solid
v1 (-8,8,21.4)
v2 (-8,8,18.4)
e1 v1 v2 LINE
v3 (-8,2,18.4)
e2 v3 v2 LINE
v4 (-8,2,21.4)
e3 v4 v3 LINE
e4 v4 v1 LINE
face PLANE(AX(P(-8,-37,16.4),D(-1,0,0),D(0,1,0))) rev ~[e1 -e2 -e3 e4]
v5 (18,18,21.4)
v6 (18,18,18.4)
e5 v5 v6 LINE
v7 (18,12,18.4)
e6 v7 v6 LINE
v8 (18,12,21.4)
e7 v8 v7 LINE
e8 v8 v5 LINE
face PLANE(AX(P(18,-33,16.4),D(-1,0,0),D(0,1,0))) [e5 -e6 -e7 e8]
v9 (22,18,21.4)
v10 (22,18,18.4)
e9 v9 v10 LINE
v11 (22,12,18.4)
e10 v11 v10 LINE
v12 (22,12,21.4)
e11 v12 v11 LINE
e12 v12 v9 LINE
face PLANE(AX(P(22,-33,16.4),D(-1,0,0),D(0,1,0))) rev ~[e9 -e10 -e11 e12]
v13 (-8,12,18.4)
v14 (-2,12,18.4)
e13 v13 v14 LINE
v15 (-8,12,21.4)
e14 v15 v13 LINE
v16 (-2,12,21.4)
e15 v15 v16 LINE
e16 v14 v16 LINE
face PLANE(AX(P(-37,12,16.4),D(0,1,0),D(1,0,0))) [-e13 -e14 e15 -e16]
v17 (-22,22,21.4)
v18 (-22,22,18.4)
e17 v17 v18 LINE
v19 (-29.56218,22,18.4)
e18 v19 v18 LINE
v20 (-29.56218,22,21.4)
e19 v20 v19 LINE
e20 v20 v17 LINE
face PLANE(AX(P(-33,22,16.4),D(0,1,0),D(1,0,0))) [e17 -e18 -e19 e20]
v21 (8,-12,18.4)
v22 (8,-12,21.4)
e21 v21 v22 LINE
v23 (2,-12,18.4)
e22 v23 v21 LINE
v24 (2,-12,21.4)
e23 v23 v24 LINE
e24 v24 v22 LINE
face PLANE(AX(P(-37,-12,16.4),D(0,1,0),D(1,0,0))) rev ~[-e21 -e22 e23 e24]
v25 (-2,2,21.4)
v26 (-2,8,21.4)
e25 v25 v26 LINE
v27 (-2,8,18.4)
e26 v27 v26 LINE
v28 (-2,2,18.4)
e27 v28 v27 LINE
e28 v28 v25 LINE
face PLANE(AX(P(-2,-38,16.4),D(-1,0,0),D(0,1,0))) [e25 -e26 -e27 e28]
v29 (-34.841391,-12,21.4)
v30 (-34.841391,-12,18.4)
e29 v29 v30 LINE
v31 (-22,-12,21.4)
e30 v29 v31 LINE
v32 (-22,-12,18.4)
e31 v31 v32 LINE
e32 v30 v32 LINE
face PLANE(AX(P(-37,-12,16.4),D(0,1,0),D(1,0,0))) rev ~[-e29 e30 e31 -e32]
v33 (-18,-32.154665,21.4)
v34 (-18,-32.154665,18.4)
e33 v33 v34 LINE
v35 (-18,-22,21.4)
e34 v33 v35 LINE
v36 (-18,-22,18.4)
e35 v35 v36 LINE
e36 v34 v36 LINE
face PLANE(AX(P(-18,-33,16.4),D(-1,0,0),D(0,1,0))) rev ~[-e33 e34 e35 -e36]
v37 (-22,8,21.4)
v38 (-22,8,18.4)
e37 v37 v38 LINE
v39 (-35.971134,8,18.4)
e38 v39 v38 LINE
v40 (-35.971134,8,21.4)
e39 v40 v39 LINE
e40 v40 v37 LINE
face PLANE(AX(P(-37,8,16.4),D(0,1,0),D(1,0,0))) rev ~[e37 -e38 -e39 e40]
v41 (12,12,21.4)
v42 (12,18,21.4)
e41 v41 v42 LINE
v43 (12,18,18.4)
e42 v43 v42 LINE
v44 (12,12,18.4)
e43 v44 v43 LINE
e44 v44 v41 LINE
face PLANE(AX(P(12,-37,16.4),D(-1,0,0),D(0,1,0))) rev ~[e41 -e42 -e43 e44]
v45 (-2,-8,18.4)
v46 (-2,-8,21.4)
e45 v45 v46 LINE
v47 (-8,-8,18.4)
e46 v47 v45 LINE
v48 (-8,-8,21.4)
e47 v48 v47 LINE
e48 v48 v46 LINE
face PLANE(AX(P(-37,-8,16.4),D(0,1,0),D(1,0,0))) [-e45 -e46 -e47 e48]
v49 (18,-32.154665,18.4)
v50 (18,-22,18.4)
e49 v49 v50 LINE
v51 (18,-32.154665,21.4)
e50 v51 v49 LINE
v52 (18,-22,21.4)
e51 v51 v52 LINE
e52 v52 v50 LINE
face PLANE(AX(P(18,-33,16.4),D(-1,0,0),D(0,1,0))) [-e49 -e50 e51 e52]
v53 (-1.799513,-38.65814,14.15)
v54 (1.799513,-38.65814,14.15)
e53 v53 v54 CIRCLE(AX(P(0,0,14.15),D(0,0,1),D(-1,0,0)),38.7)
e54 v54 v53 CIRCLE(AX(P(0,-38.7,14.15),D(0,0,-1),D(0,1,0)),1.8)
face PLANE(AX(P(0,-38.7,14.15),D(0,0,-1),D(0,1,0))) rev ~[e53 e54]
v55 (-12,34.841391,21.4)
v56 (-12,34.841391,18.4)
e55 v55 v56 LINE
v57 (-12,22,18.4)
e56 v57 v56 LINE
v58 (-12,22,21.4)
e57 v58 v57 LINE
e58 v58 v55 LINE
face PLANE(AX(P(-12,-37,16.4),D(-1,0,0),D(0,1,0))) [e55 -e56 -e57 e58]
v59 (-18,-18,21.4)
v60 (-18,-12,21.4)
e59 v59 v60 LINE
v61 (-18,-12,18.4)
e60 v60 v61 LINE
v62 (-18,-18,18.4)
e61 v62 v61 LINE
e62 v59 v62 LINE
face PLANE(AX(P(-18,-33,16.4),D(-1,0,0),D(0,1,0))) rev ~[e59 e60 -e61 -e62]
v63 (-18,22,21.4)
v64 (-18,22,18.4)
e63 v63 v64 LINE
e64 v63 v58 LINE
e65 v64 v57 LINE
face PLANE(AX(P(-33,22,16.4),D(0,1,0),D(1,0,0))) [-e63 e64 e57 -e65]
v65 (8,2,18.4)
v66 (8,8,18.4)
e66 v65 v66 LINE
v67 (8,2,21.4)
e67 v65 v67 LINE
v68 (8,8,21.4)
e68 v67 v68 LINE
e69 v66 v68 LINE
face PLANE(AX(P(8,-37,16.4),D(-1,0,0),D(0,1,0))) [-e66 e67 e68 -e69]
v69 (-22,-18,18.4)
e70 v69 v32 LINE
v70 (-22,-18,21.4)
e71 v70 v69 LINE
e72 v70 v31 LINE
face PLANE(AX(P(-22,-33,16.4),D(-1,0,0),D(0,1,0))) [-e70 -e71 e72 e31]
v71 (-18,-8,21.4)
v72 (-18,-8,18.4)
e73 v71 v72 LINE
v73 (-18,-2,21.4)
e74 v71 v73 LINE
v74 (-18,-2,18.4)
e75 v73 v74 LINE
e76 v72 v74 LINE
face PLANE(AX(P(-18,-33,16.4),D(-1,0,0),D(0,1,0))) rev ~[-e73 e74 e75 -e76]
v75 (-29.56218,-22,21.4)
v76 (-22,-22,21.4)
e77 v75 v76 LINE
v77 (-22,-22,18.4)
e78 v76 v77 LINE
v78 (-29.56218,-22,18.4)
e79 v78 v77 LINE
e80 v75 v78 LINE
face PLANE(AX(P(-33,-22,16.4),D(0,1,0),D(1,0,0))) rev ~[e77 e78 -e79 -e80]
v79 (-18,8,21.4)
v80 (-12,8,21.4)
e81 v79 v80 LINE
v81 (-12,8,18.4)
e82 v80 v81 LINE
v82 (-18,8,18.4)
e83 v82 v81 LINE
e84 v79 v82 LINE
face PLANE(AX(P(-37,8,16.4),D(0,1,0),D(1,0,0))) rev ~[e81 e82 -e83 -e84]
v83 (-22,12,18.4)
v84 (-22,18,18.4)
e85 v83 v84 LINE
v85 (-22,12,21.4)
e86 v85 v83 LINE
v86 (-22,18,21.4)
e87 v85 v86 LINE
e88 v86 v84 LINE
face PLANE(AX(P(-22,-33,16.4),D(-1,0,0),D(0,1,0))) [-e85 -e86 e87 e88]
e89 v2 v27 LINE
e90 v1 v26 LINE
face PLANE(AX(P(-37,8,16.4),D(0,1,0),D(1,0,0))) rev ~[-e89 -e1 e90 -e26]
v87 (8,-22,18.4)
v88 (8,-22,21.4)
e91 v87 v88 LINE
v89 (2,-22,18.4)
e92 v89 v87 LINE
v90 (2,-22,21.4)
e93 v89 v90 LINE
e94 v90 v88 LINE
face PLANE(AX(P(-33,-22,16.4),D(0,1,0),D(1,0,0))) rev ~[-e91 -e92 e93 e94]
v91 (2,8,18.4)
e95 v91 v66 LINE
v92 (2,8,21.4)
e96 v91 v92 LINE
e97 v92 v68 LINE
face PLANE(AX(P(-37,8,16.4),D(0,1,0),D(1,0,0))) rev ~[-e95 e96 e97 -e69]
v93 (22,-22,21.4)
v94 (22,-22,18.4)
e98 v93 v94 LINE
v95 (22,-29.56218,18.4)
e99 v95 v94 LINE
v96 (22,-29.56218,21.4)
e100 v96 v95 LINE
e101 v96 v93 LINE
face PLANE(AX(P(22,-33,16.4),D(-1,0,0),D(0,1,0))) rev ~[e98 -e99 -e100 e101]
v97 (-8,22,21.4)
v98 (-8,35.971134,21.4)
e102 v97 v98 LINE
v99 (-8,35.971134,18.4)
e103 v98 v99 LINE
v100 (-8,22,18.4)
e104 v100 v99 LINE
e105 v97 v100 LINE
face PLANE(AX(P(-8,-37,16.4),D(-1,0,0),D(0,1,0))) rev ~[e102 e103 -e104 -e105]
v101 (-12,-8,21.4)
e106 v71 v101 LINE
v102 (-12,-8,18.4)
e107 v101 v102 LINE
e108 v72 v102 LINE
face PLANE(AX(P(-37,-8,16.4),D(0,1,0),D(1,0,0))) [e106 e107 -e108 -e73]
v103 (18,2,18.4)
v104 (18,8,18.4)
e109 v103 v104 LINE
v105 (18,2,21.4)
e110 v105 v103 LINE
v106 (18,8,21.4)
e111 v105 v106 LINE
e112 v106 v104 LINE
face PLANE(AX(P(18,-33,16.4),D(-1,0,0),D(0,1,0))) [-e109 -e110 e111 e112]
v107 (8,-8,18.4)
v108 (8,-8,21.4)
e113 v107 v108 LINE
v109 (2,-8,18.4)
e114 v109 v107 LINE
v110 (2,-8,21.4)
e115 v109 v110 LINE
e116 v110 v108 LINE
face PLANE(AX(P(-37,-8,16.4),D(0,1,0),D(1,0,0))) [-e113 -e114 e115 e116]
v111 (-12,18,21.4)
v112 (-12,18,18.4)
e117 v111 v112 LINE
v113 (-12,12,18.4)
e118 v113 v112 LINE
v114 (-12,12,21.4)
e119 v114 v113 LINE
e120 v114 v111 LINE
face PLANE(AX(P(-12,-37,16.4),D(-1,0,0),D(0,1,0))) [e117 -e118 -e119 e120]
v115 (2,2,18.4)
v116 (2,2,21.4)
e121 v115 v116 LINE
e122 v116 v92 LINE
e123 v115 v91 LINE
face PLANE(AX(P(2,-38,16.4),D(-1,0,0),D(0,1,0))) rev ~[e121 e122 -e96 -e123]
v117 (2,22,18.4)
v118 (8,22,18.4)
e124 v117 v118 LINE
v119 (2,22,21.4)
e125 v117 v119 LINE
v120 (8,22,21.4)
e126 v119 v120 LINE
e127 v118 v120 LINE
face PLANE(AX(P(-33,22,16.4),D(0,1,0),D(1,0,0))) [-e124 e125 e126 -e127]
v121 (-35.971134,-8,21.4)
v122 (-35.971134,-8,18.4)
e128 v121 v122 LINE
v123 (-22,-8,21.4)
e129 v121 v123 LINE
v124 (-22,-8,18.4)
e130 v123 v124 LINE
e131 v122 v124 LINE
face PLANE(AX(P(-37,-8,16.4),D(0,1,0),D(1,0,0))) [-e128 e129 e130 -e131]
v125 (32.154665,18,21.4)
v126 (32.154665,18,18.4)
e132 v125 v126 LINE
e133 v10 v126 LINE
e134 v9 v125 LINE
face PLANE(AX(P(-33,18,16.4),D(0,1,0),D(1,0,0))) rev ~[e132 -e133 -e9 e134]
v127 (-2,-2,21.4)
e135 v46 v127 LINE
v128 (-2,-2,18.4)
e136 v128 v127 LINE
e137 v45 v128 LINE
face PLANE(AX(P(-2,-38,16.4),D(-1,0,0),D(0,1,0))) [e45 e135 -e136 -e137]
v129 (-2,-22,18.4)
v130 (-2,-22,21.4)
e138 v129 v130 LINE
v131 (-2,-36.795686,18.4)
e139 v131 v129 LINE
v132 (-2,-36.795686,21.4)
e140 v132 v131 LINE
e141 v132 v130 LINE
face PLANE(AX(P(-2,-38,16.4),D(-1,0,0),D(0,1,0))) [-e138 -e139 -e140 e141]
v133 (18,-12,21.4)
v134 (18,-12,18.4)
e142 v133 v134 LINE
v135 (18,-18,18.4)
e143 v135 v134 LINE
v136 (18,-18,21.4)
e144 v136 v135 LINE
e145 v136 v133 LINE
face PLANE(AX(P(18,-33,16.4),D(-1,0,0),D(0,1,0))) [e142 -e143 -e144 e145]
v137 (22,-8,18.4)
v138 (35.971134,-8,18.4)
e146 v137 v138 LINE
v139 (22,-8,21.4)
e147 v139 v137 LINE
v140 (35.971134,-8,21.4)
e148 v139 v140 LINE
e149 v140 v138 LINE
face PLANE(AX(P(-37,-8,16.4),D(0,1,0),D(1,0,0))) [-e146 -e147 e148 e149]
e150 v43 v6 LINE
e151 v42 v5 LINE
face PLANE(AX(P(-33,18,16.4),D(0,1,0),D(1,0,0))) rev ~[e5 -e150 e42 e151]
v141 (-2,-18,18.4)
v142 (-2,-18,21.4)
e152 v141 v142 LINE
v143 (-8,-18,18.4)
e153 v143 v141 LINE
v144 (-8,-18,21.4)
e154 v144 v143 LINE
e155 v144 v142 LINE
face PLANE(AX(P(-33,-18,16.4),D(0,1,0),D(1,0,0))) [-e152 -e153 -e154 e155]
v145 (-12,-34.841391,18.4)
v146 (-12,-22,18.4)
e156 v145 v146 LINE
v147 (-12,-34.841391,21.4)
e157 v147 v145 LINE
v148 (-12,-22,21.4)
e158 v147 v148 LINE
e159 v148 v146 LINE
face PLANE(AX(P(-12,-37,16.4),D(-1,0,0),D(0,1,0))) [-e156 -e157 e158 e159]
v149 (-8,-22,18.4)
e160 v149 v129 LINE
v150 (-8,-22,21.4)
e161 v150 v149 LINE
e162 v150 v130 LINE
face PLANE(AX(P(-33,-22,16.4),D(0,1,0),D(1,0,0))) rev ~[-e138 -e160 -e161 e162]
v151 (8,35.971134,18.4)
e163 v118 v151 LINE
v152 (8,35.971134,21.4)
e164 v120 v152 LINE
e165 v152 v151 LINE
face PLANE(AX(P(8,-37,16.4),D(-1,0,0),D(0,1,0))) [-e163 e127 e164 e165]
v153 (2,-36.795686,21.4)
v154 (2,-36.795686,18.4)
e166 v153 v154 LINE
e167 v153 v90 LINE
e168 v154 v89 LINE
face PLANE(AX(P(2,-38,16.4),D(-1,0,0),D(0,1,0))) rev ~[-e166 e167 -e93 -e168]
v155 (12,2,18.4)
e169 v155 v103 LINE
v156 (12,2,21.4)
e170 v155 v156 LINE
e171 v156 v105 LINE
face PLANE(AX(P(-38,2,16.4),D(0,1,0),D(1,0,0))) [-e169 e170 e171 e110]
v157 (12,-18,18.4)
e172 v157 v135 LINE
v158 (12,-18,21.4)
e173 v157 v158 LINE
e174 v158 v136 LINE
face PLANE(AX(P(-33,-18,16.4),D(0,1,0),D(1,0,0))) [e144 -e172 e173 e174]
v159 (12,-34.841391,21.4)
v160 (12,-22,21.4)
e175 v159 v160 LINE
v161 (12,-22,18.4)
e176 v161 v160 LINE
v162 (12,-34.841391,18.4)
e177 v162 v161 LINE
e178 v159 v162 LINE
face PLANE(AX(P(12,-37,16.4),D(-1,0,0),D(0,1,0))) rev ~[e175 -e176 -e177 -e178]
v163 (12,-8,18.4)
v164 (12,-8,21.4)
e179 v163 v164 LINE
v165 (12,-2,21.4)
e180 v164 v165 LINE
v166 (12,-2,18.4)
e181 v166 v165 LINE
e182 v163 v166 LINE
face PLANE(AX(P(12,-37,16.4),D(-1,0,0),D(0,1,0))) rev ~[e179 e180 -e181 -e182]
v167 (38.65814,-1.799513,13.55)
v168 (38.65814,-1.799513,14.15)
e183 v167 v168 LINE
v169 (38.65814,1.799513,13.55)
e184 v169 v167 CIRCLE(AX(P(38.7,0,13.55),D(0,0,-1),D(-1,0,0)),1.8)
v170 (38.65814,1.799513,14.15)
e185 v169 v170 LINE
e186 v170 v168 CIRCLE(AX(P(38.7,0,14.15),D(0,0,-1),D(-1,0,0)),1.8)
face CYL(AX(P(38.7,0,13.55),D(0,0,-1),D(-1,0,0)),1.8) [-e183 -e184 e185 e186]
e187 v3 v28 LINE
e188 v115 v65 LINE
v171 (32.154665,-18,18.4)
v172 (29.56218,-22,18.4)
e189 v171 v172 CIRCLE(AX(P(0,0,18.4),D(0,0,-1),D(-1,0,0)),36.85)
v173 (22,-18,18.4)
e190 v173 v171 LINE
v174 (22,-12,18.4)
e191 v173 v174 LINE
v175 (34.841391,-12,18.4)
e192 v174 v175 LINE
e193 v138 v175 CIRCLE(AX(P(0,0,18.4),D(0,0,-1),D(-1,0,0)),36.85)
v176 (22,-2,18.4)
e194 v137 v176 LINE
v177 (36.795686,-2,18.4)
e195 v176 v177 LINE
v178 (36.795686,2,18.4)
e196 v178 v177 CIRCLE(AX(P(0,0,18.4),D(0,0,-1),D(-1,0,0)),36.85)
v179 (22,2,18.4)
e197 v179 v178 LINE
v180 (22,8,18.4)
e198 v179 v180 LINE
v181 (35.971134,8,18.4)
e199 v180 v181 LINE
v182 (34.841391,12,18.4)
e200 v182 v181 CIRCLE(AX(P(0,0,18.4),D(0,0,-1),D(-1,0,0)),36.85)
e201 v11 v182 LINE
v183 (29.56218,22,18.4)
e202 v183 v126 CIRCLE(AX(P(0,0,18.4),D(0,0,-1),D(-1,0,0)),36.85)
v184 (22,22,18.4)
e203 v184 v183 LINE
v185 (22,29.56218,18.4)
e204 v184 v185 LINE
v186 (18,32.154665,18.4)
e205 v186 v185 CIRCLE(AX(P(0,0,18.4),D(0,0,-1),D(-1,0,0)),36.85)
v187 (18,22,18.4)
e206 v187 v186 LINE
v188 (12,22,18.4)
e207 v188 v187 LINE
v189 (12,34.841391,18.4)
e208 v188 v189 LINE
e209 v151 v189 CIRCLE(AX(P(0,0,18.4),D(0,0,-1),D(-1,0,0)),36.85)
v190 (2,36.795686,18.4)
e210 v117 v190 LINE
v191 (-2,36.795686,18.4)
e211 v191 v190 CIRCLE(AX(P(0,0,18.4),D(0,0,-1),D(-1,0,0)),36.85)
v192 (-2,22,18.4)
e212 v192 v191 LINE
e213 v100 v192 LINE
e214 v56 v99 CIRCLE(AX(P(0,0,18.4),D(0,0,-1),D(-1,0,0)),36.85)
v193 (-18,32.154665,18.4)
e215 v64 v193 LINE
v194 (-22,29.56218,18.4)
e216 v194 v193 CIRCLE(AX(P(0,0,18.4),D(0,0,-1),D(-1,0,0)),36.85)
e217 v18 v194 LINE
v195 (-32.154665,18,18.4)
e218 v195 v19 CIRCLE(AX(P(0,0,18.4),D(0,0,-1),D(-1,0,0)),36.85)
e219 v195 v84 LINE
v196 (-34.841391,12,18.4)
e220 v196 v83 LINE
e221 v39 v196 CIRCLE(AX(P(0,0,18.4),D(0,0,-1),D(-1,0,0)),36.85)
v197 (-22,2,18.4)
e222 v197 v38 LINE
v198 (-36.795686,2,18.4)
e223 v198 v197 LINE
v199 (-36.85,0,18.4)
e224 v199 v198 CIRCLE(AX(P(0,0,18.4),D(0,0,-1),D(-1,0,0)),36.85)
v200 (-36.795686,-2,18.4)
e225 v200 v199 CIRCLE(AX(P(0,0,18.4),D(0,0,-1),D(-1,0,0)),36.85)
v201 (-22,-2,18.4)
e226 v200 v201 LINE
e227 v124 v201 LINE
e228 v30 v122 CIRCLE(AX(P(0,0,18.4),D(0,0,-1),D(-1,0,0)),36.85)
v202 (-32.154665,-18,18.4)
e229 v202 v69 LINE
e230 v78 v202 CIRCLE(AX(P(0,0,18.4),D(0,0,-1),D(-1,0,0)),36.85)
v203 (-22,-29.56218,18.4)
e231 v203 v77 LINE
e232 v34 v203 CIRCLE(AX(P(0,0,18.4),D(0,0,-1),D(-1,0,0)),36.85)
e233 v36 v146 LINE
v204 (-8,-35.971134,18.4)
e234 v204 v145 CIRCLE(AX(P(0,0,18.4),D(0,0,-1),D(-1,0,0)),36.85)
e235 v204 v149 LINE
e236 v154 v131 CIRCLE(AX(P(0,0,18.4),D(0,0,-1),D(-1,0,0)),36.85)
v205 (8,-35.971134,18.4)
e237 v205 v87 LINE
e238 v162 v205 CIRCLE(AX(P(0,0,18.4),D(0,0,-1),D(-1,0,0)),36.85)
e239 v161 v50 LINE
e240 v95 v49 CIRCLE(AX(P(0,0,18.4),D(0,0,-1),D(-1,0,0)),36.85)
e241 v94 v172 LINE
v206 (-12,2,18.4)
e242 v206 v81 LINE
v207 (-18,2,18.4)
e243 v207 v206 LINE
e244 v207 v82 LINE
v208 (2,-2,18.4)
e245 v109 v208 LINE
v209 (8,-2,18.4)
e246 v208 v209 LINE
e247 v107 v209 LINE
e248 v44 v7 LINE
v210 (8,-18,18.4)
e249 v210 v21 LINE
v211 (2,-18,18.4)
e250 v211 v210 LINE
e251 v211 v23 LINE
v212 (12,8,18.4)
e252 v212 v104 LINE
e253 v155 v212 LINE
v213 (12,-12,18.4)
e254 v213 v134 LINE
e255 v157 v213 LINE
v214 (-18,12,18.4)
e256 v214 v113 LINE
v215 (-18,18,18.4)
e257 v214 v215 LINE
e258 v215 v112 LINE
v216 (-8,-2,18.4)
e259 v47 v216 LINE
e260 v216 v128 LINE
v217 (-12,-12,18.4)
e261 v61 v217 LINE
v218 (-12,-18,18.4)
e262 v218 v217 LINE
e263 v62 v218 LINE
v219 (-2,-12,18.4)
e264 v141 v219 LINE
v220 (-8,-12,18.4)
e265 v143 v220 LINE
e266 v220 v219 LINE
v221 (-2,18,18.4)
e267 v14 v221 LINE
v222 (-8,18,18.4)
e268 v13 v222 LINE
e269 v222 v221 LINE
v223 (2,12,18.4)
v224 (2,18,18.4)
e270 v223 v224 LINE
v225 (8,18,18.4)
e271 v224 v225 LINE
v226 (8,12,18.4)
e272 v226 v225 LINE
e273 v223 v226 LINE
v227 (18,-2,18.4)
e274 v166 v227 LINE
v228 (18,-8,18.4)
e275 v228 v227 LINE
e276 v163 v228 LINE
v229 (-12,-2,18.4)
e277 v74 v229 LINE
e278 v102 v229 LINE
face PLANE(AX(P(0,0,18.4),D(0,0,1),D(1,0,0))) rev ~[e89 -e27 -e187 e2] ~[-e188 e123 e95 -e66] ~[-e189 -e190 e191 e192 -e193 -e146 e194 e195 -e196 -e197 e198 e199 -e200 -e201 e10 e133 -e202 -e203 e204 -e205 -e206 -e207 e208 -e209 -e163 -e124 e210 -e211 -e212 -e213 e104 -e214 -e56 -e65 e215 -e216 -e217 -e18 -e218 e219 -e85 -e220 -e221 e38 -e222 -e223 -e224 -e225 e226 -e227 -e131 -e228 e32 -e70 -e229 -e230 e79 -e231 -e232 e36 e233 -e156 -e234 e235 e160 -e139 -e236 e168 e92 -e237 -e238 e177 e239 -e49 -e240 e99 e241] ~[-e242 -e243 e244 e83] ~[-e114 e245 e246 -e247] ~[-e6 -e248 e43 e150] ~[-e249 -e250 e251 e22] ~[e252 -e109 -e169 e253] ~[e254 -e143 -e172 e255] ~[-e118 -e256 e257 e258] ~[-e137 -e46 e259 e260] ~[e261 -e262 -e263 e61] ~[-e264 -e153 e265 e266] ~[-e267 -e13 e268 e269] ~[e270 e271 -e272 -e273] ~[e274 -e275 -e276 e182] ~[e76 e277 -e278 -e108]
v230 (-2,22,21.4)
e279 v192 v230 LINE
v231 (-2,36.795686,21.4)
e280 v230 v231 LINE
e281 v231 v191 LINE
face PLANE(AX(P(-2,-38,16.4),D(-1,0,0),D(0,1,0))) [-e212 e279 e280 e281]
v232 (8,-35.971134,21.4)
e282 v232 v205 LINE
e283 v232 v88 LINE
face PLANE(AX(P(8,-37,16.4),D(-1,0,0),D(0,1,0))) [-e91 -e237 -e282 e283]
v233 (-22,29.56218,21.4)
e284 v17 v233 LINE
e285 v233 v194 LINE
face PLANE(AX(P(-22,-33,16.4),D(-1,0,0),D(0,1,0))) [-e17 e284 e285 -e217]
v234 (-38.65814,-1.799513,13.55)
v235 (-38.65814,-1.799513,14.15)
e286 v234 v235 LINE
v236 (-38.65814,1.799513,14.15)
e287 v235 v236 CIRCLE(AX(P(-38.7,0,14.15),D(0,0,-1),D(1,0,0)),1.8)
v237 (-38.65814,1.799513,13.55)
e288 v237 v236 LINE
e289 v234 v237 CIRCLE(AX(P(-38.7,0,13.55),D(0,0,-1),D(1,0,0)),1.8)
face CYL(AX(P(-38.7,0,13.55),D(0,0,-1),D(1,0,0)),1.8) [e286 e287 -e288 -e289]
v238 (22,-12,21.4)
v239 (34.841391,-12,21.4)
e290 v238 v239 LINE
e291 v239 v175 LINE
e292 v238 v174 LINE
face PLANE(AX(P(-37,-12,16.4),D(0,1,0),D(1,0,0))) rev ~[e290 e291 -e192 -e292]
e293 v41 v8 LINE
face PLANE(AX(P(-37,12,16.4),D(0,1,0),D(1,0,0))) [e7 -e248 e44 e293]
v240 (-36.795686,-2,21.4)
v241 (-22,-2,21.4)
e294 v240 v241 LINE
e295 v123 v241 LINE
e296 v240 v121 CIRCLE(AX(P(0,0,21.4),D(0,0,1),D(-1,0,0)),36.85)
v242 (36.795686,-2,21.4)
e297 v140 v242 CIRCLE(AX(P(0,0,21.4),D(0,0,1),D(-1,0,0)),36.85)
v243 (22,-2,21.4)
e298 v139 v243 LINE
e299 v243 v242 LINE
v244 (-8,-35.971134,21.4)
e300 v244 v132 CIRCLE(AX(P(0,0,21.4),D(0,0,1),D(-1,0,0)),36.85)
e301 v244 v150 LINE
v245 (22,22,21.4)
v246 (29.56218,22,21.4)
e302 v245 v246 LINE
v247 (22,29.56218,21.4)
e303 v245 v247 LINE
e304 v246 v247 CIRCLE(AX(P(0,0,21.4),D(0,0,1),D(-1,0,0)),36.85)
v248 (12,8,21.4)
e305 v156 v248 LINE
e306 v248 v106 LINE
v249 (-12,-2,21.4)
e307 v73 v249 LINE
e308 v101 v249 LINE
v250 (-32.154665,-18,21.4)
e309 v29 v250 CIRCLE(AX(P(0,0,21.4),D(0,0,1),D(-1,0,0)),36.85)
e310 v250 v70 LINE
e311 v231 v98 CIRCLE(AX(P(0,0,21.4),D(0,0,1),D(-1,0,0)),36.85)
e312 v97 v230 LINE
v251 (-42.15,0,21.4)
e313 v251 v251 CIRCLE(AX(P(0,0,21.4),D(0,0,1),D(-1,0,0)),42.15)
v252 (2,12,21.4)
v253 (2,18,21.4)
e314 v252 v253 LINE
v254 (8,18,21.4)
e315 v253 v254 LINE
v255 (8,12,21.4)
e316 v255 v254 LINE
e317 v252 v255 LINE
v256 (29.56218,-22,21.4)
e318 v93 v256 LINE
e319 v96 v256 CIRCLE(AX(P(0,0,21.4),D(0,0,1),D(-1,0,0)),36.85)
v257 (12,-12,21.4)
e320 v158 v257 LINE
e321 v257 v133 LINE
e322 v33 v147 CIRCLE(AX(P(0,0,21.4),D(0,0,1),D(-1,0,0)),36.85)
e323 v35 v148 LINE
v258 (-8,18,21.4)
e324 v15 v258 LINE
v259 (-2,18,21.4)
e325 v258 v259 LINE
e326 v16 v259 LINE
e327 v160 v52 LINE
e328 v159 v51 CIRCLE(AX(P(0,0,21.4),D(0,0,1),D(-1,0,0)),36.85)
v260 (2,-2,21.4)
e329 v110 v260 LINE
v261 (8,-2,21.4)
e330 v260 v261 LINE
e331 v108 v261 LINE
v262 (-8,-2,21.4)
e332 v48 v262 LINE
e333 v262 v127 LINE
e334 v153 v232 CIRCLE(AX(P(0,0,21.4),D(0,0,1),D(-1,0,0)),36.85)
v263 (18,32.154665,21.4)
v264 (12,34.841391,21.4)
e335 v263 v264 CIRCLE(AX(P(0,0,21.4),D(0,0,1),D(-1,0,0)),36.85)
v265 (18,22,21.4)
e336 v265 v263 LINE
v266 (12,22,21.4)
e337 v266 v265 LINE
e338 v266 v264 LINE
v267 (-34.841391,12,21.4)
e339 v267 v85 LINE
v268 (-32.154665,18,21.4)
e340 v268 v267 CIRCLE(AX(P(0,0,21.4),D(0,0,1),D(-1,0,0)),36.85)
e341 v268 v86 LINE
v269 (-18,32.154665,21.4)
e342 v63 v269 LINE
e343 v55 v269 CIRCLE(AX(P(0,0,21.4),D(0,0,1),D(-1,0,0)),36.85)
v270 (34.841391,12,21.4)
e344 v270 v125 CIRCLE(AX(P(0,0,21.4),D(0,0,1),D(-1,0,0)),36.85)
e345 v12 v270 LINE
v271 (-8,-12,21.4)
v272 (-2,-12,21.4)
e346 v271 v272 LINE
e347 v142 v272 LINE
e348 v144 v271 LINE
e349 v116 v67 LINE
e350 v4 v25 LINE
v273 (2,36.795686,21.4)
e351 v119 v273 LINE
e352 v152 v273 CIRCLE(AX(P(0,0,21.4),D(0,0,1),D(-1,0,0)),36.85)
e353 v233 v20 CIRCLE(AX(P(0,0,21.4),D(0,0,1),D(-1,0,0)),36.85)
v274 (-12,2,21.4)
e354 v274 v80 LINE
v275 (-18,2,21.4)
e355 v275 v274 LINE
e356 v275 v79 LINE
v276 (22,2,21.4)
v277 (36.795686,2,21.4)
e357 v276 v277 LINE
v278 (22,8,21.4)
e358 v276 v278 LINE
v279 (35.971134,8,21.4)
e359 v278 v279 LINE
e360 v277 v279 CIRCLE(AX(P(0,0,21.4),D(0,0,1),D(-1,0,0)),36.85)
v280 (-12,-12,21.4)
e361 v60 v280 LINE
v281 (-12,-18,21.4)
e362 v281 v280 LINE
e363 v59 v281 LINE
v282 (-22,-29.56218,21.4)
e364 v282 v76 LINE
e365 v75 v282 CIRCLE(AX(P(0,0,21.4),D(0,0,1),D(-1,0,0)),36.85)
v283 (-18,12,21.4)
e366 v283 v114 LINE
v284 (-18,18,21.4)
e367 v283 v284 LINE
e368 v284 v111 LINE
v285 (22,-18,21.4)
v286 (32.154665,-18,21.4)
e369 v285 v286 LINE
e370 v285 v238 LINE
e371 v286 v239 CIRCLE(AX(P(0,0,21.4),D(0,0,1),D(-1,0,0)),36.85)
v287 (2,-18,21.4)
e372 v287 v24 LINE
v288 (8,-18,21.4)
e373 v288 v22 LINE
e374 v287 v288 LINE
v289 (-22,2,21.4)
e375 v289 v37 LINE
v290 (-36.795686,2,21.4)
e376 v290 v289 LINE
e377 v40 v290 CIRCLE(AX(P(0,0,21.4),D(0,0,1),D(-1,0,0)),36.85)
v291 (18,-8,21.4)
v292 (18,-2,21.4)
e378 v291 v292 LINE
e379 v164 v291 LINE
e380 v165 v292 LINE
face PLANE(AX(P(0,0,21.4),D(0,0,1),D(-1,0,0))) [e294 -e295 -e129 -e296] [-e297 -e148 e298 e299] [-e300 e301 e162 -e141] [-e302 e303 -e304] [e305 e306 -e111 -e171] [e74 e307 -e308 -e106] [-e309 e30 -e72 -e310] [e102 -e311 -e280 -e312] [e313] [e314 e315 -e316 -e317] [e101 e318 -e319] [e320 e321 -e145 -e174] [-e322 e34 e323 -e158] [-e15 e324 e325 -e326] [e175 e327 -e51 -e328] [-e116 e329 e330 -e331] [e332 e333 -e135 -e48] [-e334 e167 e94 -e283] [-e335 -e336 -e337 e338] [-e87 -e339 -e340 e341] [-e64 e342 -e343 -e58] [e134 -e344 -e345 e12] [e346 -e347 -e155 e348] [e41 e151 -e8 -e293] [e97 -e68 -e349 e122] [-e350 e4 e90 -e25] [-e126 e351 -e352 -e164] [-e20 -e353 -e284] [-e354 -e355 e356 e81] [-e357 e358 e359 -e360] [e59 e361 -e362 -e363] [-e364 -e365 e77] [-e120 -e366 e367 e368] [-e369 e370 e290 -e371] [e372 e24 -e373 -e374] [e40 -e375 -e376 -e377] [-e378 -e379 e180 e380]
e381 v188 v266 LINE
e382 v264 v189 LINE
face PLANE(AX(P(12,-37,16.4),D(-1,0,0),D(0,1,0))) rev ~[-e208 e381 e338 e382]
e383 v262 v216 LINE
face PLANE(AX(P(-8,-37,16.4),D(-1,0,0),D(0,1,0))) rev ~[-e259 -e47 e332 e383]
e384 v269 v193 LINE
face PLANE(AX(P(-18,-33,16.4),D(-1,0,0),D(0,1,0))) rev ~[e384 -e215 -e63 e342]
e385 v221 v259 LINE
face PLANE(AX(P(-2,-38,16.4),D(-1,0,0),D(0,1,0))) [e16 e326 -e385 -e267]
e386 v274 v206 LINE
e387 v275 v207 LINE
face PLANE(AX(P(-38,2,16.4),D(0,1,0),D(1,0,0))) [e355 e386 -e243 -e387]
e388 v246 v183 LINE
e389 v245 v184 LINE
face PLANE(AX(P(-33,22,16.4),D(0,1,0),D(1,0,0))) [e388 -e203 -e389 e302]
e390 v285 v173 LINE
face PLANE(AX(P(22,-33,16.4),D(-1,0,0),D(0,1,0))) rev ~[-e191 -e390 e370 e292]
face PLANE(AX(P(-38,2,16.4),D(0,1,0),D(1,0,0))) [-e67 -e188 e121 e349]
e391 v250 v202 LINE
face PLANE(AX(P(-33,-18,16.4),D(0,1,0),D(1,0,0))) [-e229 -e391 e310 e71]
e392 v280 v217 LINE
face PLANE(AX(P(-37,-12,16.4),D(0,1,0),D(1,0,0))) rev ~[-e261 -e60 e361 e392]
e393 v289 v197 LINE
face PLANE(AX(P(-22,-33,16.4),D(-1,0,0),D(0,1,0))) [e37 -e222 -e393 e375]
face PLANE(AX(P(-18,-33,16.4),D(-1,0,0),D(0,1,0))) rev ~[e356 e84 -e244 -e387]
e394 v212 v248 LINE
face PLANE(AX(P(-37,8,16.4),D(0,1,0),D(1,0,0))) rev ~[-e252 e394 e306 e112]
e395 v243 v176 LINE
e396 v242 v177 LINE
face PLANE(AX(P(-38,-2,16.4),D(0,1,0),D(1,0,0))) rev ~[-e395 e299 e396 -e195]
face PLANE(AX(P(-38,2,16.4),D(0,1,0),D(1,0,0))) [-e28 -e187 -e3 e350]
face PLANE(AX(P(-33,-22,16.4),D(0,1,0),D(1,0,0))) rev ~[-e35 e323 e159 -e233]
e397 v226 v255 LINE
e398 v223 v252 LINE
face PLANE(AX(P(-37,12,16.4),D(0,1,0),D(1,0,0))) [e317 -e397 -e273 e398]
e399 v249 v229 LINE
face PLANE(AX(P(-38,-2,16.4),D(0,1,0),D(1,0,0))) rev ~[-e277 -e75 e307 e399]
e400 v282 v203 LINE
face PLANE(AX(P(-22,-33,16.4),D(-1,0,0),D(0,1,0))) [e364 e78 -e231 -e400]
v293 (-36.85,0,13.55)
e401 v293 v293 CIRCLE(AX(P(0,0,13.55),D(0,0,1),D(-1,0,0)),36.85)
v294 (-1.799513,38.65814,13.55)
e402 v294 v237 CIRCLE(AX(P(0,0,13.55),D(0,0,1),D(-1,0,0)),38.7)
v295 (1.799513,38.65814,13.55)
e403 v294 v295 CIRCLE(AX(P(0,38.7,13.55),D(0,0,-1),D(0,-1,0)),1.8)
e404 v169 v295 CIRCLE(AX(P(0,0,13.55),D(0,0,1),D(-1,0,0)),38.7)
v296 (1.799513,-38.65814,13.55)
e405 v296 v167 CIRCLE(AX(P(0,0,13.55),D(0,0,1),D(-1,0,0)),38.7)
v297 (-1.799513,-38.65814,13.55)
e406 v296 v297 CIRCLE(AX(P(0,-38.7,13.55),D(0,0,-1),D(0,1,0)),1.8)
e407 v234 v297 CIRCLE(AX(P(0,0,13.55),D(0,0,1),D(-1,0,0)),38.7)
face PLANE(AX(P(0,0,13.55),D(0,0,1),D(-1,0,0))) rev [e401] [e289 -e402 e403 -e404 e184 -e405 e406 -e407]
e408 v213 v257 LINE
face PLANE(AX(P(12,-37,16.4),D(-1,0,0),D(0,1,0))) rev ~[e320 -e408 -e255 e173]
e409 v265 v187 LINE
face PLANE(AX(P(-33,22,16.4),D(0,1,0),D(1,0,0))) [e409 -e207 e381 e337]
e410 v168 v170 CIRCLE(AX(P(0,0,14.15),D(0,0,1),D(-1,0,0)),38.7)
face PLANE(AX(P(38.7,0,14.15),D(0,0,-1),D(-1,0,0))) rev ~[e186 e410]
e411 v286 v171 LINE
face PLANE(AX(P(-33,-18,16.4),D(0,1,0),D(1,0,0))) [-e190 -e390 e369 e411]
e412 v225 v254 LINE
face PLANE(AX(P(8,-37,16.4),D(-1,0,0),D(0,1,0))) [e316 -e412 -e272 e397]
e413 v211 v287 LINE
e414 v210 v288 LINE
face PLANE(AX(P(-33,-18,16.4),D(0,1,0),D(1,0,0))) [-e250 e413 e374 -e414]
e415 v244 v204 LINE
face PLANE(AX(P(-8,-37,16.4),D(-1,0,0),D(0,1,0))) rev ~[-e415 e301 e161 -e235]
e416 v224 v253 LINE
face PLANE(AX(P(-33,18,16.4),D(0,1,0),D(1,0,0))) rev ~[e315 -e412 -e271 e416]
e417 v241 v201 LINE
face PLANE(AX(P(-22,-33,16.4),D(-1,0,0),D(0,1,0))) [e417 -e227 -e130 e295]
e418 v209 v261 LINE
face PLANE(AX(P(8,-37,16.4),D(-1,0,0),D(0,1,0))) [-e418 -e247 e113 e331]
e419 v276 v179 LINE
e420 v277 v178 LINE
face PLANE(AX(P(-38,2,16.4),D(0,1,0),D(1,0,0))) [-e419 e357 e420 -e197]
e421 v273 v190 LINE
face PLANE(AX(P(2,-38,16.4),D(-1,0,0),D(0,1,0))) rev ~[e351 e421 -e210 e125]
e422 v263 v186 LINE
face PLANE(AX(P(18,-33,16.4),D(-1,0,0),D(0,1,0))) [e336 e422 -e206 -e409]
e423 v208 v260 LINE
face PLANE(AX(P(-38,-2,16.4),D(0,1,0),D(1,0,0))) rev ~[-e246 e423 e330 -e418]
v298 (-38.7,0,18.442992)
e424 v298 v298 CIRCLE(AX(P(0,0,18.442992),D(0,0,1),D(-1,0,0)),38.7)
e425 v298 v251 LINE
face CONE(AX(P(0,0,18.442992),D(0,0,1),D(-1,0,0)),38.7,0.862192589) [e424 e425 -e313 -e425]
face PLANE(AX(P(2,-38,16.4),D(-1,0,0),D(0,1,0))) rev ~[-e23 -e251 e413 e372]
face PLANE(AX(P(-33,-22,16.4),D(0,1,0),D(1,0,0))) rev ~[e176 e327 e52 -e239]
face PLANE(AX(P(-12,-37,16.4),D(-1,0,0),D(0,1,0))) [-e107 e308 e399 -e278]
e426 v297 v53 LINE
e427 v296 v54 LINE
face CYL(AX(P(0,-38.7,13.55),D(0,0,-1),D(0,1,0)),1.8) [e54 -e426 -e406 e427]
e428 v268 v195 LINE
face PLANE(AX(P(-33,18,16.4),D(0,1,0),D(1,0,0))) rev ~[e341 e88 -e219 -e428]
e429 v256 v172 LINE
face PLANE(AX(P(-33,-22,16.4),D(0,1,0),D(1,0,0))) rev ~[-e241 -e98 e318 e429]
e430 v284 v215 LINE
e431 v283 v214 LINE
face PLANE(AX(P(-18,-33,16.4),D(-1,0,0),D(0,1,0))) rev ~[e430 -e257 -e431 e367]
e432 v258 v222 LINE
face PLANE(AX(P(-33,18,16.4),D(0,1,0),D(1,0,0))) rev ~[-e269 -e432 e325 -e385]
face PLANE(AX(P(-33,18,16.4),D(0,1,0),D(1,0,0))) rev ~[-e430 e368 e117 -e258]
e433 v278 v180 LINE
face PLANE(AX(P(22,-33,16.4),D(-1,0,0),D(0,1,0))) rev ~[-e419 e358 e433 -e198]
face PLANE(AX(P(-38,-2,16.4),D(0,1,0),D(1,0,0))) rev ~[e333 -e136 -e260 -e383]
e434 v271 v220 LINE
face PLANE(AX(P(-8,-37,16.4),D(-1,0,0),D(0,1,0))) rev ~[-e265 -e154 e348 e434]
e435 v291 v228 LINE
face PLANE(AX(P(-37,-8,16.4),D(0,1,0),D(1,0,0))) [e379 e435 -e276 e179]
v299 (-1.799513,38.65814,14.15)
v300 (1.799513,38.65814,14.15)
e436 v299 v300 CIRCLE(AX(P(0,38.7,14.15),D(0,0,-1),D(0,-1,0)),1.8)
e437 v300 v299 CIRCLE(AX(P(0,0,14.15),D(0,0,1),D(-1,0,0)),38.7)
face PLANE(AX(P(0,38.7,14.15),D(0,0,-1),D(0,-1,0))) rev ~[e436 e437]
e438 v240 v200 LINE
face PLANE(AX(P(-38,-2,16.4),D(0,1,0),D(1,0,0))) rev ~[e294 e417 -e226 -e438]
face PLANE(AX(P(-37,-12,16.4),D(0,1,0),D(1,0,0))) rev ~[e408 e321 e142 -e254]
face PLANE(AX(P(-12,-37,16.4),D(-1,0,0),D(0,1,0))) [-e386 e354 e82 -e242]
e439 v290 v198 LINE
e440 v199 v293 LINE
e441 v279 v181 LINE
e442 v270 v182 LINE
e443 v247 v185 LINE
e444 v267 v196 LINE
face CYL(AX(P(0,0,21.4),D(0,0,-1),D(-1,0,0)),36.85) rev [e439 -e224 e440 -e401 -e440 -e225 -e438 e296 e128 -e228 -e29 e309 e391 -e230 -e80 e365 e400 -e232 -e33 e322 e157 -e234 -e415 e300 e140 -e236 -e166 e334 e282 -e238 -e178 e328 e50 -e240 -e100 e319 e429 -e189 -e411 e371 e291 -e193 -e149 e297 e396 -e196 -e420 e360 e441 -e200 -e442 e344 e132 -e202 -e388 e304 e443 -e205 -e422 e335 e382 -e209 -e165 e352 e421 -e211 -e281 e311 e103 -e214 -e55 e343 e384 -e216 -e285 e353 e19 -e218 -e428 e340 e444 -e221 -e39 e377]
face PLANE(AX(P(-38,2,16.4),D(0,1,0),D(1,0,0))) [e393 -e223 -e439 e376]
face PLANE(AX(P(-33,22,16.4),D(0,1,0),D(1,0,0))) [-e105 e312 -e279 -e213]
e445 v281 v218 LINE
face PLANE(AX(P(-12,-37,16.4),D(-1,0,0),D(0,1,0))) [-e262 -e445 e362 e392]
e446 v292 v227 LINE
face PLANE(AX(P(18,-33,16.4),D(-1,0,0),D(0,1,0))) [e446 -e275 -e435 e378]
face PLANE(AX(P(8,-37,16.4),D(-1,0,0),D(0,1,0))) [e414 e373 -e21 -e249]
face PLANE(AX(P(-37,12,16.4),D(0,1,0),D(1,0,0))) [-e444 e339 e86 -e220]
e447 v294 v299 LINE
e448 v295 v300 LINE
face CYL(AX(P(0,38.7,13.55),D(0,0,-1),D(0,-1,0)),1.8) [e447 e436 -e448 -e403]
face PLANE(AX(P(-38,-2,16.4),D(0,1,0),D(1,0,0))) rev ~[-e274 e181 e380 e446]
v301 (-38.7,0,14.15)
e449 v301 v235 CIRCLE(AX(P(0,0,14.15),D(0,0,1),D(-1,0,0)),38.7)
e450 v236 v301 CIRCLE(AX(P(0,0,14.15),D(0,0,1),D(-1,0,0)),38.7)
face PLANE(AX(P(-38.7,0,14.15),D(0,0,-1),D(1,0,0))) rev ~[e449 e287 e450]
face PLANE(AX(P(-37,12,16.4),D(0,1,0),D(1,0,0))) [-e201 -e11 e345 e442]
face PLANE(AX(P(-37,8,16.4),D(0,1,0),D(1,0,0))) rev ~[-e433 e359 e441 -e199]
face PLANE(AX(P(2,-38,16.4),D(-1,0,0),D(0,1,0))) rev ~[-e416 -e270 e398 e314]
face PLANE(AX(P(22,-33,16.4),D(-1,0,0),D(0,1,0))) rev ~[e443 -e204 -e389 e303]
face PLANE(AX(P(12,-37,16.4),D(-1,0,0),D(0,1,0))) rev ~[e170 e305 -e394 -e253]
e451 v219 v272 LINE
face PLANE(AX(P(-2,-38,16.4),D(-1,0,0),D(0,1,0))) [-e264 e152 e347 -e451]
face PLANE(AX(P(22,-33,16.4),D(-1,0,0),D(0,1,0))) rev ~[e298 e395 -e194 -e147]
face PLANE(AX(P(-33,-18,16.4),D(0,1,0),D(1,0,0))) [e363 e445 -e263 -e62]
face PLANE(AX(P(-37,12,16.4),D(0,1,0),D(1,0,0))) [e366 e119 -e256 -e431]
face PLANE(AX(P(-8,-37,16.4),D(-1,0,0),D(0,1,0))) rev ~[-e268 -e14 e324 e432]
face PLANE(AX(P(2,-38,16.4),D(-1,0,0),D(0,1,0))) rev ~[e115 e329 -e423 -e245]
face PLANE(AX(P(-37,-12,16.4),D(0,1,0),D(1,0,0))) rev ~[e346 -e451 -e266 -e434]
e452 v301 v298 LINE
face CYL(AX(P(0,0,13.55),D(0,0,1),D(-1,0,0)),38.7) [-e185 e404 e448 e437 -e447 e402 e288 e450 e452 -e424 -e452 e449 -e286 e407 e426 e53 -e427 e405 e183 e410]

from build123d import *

# Parameters (mm, degrees)
CYLINDER063_R         = 50
CYLINDER063_DEPTH     = 10
CYLINDER067_R         = 37.5
CYLINDER067_DEPTH     = 5
CYLINDER059_R         = 45
CYLINDER059_DEPTH     = 5
BOX024_W              = 66
BOX024_H              = 4
BOX024_DEPTH          = 5
BOX028_W              = 66
BOX028_H              = 4
BOX028_DEPTH          = 5
BOX022_W              = 74
BOX022_H              = 4
BOX022_DEPTH          = 5
BOX020_W              = 74
BOX020_H              = 4
BOX020_DEPTH          = 5
BOX025_W              = 74
BOX025_H              = 4
BOX025_DEPTH          = 5
BOX027_W              = 66
BOX027_H              = 4
BOX027_DEPTH          = 5
BOX026_W              = 76
BOX026_H              = 4
BOX026_DEPTH          = 5
BOX021_W              = 66
BOX021_H              = 4
BOX021_DEPTH          = 5
BOX029_W              = 76
BOX029_H              = 4
BOX029_DEPTH          = 5
BOX023_W              = 74
BOX023_H              = 4
BOX023_DEPTH          = 5
CYLINDER065_R         = 37.3
CYLINDER065_DEPTH     = 5
CYLINDER060_R         = 37.5
CYLINDER060_DEPTH     = 5
SKETCH005_R           = 1.8
PAD001_DEPTH          = 0.6
POLARPATTERN003_COUNT = 4


with BuildPart() as cylinder063:
    # Cylinder063 → Cylinder063 (new body)
    with BuildSketch(Plane.XY.offset(-49)):
        Circle(CYLINDER063_R)
    extrude(amount=CYLINDER063_DEPTH)


with BuildPart() as cylinder067:
    # Cylinder067 → Cylinder067 (new body)
    with BuildSketch(Plane.XY.offset(-41)):
        Circle(CYLINDER067_R)
    extrude(amount=CYLINDER067_DEPTH)


with BuildPart() as cut032:
    # Cylinder059 → Cylinder059 (new body)
    with BuildSketch(Plane.XY.offset(-41)):
        Circle(CYLINDER059_R)
    extrude(amount=CYLINDER059_DEPTH)

    # Cut032: cut Cylinder067
    add(cylinder067.part, mode=Mode.SUBTRACT)


with BuildPart() as cube024:
    # Box024 → Box024 (new body)
    with BuildSketch(Plane(origin=(-18, -33, -41), x_dir=(0, 1, 0), z_dir=(0, 0, 1))):
        with Locations((33, 2)):
            Rectangle(BOX024_W, BOX024_H)
    extrude(amount=BOX024_DEPTH)


with BuildPart() as cube028:
    # Box028 → Box028 (new body)
    with BuildSketch(Plane(origin=(22, -33, -41), x_dir=(0, 1, 0), z_dir=(0, 0, 1))):
        with Locations((33, 2)):
            Rectangle(BOX028_W, BOX028_H)
    extrude(amount=BOX028_DEPTH)


with BuildPart() as cube022:
    # Box022 → Box022 (new body)
    with BuildSketch(Plane(origin=(-8, -37, -41), x_dir=(0, 1, 0), z_dir=(0, 0, 1))):
        with Locations((37, 2)):
            Rectangle(BOX022_W, BOX022_H)
    extrude(amount=BOX022_DEPTH)


with BuildPart() as cube020:
    # Box020 → Box020 (new body)
    with BuildSketch(Plane(origin=(-37, 8, -41), x_dir=(1, 0, 0), z_dir=(0, 0, 1))):
        with Locations((37, 2)):
            Rectangle(BOX020_W, BOX020_H)
    extrude(amount=BOX020_DEPTH)


with BuildPart() as cube025:
    # Box025 → Box025 (new body)
    with BuildSketch(Plane(origin=(-37, -12, -41), x_dir=(1, 0, 0), z_dir=(0, 0, 1))):
        with Locations((37, 2)):
            Rectangle(BOX025_W, BOX025_H)
    extrude(amount=BOX025_DEPTH)


with BuildPart() as cube027:
    # Box027 → Box027 (new body)
    with BuildSketch(Plane(origin=(-33, -22, -41), x_dir=(1, 0, 0), z_dir=(0, 0, 1))):
        with Locations((33, 2)):
            Rectangle(BOX027_W, BOX027_H)
    extrude(amount=BOX027_DEPTH)


with BuildPart() as cube026:
    # Box026 → Box026 (new body)
    with BuildSketch(Plane(origin=(-38, -2, -41), x_dir=(1, 0, 0), z_dir=(0, 0, 1))):
        with Locations((38, 2)):
            Rectangle(BOX026_W, BOX026_H)
    extrude(amount=BOX026_DEPTH)


with BuildPart() as cube021:
    # Box021 → Box021 (new body)
    with BuildSketch(Plane(origin=(-33, 18, -41), x_dir=(1, 0, 0), z_dir=(0, 0, 1))):
        with Locations((33, 2)):
            Rectangle(BOX021_W, BOX021_H)
    extrude(amount=BOX021_DEPTH)


with BuildPart() as cube029:
    # Box029 → Box029 (new body)
    with BuildSketch(Plane(origin=(2, -38, -41), x_dir=(0, 1, 0), z_dir=(0, 0, 1))):
        with Locations((38, 2)):
            Rectangle(BOX029_W, BOX029_H)
    extrude(amount=BOX029_DEPTH)


with BuildPart() as cube023:
    # Box023 → Box023 (new body)
    with BuildSketch(Plane(origin=(12, -37, -41), x_dir=(0, 1, 0), z_dir=(0, 0, 1))):
        with Locations((37, 2)):
            Rectangle(BOX023_W, BOX023_H)
    extrude(amount=BOX023_DEPTH)


with BuildPart() as cylinder065:
    # Cylinder065 → Cylinder065 (new body)
    with BuildSketch(Plane.XY.offset(-41)):
        Circle(CYLINDER065_R)
    extrude(amount=CYLINDER065_DEPTH)


with BuildPart() as panal_version1:
    # Cylinder060 → Cylinder060 (new body)
    with BuildSketch(Plane.XY.offset(-41)):
        Circle(CYLINDER060_R)
    extrude(amount=CYLINDER060_DEPTH)

    # Cut035: cut Cylinder065
    add(cylinder065.part, mode=Mode.SUBTRACT)

    # Fusion022: union Cube024, Cube028, Cube022, Cube020, Cube025, Cube027, Cube026, Cube021, Cube029, Cube023
    add(cube024.part)
    add(cube028.part)
    add(cube022.part)
    add(cube020.part)
    add(cube025.part)
    add(cube027.part)
    add(cube026.part)
    add(cube021.part)
    add(cube029.part)
    add(cube023.part)

    # Cut036: cut Cut032
    add(cut032.part, mode=Mode.SUBTRACT)

    # Cut034: cut Cylinder063
    add(cylinder063.part, mode=Mode.SUBTRACT)


with BuildPart() as panal_version1_1:
    # Cut034 placement: moved
    add(panal_version1.part.moved(Location((0, 0, 57.4))))


with BuildPart() as interno1:
    # Sketch006 → Revolution002 (revolve)
    with BuildSketch(Plane.XZ):
        Polygon((-36.85, 13.55), (-38.7, 13.55), (-38.7, 18.442992), (-42.15, 21.4), (-36.85, 21.4), align=None)
    revolve(axis=Axis((0, 0, 0), (0, 0, 1)))

    # Sketch005 (on Face1 of Revolution002) → Pad001 (new body)
    with BuildSketch(Plane(origin=(0, 0, 13.55), x_dir=(1, 0, 0), z_dir=(0, 0, -1))):
        with Locations((-38.7, 0)):
            Circle(SKETCH005_R)
    pad001 = extrude(amount=-PAD001_DEPTH)

    # PolarPattern003: Pad001 ×4 about axis
    polarpattern003_axis = Axis((0, 0, 13.55), (0, 0, -1))
    for i in range(1, POLARPATTERN003_COUNT):
        add(pad001.rotate(polarpattern003_axis, i * 360 / POLARPATTERN003_COUNT))

    # Fusion036: union panal_version1
    add(panal_version1_1.part)


solid = interno1.part
